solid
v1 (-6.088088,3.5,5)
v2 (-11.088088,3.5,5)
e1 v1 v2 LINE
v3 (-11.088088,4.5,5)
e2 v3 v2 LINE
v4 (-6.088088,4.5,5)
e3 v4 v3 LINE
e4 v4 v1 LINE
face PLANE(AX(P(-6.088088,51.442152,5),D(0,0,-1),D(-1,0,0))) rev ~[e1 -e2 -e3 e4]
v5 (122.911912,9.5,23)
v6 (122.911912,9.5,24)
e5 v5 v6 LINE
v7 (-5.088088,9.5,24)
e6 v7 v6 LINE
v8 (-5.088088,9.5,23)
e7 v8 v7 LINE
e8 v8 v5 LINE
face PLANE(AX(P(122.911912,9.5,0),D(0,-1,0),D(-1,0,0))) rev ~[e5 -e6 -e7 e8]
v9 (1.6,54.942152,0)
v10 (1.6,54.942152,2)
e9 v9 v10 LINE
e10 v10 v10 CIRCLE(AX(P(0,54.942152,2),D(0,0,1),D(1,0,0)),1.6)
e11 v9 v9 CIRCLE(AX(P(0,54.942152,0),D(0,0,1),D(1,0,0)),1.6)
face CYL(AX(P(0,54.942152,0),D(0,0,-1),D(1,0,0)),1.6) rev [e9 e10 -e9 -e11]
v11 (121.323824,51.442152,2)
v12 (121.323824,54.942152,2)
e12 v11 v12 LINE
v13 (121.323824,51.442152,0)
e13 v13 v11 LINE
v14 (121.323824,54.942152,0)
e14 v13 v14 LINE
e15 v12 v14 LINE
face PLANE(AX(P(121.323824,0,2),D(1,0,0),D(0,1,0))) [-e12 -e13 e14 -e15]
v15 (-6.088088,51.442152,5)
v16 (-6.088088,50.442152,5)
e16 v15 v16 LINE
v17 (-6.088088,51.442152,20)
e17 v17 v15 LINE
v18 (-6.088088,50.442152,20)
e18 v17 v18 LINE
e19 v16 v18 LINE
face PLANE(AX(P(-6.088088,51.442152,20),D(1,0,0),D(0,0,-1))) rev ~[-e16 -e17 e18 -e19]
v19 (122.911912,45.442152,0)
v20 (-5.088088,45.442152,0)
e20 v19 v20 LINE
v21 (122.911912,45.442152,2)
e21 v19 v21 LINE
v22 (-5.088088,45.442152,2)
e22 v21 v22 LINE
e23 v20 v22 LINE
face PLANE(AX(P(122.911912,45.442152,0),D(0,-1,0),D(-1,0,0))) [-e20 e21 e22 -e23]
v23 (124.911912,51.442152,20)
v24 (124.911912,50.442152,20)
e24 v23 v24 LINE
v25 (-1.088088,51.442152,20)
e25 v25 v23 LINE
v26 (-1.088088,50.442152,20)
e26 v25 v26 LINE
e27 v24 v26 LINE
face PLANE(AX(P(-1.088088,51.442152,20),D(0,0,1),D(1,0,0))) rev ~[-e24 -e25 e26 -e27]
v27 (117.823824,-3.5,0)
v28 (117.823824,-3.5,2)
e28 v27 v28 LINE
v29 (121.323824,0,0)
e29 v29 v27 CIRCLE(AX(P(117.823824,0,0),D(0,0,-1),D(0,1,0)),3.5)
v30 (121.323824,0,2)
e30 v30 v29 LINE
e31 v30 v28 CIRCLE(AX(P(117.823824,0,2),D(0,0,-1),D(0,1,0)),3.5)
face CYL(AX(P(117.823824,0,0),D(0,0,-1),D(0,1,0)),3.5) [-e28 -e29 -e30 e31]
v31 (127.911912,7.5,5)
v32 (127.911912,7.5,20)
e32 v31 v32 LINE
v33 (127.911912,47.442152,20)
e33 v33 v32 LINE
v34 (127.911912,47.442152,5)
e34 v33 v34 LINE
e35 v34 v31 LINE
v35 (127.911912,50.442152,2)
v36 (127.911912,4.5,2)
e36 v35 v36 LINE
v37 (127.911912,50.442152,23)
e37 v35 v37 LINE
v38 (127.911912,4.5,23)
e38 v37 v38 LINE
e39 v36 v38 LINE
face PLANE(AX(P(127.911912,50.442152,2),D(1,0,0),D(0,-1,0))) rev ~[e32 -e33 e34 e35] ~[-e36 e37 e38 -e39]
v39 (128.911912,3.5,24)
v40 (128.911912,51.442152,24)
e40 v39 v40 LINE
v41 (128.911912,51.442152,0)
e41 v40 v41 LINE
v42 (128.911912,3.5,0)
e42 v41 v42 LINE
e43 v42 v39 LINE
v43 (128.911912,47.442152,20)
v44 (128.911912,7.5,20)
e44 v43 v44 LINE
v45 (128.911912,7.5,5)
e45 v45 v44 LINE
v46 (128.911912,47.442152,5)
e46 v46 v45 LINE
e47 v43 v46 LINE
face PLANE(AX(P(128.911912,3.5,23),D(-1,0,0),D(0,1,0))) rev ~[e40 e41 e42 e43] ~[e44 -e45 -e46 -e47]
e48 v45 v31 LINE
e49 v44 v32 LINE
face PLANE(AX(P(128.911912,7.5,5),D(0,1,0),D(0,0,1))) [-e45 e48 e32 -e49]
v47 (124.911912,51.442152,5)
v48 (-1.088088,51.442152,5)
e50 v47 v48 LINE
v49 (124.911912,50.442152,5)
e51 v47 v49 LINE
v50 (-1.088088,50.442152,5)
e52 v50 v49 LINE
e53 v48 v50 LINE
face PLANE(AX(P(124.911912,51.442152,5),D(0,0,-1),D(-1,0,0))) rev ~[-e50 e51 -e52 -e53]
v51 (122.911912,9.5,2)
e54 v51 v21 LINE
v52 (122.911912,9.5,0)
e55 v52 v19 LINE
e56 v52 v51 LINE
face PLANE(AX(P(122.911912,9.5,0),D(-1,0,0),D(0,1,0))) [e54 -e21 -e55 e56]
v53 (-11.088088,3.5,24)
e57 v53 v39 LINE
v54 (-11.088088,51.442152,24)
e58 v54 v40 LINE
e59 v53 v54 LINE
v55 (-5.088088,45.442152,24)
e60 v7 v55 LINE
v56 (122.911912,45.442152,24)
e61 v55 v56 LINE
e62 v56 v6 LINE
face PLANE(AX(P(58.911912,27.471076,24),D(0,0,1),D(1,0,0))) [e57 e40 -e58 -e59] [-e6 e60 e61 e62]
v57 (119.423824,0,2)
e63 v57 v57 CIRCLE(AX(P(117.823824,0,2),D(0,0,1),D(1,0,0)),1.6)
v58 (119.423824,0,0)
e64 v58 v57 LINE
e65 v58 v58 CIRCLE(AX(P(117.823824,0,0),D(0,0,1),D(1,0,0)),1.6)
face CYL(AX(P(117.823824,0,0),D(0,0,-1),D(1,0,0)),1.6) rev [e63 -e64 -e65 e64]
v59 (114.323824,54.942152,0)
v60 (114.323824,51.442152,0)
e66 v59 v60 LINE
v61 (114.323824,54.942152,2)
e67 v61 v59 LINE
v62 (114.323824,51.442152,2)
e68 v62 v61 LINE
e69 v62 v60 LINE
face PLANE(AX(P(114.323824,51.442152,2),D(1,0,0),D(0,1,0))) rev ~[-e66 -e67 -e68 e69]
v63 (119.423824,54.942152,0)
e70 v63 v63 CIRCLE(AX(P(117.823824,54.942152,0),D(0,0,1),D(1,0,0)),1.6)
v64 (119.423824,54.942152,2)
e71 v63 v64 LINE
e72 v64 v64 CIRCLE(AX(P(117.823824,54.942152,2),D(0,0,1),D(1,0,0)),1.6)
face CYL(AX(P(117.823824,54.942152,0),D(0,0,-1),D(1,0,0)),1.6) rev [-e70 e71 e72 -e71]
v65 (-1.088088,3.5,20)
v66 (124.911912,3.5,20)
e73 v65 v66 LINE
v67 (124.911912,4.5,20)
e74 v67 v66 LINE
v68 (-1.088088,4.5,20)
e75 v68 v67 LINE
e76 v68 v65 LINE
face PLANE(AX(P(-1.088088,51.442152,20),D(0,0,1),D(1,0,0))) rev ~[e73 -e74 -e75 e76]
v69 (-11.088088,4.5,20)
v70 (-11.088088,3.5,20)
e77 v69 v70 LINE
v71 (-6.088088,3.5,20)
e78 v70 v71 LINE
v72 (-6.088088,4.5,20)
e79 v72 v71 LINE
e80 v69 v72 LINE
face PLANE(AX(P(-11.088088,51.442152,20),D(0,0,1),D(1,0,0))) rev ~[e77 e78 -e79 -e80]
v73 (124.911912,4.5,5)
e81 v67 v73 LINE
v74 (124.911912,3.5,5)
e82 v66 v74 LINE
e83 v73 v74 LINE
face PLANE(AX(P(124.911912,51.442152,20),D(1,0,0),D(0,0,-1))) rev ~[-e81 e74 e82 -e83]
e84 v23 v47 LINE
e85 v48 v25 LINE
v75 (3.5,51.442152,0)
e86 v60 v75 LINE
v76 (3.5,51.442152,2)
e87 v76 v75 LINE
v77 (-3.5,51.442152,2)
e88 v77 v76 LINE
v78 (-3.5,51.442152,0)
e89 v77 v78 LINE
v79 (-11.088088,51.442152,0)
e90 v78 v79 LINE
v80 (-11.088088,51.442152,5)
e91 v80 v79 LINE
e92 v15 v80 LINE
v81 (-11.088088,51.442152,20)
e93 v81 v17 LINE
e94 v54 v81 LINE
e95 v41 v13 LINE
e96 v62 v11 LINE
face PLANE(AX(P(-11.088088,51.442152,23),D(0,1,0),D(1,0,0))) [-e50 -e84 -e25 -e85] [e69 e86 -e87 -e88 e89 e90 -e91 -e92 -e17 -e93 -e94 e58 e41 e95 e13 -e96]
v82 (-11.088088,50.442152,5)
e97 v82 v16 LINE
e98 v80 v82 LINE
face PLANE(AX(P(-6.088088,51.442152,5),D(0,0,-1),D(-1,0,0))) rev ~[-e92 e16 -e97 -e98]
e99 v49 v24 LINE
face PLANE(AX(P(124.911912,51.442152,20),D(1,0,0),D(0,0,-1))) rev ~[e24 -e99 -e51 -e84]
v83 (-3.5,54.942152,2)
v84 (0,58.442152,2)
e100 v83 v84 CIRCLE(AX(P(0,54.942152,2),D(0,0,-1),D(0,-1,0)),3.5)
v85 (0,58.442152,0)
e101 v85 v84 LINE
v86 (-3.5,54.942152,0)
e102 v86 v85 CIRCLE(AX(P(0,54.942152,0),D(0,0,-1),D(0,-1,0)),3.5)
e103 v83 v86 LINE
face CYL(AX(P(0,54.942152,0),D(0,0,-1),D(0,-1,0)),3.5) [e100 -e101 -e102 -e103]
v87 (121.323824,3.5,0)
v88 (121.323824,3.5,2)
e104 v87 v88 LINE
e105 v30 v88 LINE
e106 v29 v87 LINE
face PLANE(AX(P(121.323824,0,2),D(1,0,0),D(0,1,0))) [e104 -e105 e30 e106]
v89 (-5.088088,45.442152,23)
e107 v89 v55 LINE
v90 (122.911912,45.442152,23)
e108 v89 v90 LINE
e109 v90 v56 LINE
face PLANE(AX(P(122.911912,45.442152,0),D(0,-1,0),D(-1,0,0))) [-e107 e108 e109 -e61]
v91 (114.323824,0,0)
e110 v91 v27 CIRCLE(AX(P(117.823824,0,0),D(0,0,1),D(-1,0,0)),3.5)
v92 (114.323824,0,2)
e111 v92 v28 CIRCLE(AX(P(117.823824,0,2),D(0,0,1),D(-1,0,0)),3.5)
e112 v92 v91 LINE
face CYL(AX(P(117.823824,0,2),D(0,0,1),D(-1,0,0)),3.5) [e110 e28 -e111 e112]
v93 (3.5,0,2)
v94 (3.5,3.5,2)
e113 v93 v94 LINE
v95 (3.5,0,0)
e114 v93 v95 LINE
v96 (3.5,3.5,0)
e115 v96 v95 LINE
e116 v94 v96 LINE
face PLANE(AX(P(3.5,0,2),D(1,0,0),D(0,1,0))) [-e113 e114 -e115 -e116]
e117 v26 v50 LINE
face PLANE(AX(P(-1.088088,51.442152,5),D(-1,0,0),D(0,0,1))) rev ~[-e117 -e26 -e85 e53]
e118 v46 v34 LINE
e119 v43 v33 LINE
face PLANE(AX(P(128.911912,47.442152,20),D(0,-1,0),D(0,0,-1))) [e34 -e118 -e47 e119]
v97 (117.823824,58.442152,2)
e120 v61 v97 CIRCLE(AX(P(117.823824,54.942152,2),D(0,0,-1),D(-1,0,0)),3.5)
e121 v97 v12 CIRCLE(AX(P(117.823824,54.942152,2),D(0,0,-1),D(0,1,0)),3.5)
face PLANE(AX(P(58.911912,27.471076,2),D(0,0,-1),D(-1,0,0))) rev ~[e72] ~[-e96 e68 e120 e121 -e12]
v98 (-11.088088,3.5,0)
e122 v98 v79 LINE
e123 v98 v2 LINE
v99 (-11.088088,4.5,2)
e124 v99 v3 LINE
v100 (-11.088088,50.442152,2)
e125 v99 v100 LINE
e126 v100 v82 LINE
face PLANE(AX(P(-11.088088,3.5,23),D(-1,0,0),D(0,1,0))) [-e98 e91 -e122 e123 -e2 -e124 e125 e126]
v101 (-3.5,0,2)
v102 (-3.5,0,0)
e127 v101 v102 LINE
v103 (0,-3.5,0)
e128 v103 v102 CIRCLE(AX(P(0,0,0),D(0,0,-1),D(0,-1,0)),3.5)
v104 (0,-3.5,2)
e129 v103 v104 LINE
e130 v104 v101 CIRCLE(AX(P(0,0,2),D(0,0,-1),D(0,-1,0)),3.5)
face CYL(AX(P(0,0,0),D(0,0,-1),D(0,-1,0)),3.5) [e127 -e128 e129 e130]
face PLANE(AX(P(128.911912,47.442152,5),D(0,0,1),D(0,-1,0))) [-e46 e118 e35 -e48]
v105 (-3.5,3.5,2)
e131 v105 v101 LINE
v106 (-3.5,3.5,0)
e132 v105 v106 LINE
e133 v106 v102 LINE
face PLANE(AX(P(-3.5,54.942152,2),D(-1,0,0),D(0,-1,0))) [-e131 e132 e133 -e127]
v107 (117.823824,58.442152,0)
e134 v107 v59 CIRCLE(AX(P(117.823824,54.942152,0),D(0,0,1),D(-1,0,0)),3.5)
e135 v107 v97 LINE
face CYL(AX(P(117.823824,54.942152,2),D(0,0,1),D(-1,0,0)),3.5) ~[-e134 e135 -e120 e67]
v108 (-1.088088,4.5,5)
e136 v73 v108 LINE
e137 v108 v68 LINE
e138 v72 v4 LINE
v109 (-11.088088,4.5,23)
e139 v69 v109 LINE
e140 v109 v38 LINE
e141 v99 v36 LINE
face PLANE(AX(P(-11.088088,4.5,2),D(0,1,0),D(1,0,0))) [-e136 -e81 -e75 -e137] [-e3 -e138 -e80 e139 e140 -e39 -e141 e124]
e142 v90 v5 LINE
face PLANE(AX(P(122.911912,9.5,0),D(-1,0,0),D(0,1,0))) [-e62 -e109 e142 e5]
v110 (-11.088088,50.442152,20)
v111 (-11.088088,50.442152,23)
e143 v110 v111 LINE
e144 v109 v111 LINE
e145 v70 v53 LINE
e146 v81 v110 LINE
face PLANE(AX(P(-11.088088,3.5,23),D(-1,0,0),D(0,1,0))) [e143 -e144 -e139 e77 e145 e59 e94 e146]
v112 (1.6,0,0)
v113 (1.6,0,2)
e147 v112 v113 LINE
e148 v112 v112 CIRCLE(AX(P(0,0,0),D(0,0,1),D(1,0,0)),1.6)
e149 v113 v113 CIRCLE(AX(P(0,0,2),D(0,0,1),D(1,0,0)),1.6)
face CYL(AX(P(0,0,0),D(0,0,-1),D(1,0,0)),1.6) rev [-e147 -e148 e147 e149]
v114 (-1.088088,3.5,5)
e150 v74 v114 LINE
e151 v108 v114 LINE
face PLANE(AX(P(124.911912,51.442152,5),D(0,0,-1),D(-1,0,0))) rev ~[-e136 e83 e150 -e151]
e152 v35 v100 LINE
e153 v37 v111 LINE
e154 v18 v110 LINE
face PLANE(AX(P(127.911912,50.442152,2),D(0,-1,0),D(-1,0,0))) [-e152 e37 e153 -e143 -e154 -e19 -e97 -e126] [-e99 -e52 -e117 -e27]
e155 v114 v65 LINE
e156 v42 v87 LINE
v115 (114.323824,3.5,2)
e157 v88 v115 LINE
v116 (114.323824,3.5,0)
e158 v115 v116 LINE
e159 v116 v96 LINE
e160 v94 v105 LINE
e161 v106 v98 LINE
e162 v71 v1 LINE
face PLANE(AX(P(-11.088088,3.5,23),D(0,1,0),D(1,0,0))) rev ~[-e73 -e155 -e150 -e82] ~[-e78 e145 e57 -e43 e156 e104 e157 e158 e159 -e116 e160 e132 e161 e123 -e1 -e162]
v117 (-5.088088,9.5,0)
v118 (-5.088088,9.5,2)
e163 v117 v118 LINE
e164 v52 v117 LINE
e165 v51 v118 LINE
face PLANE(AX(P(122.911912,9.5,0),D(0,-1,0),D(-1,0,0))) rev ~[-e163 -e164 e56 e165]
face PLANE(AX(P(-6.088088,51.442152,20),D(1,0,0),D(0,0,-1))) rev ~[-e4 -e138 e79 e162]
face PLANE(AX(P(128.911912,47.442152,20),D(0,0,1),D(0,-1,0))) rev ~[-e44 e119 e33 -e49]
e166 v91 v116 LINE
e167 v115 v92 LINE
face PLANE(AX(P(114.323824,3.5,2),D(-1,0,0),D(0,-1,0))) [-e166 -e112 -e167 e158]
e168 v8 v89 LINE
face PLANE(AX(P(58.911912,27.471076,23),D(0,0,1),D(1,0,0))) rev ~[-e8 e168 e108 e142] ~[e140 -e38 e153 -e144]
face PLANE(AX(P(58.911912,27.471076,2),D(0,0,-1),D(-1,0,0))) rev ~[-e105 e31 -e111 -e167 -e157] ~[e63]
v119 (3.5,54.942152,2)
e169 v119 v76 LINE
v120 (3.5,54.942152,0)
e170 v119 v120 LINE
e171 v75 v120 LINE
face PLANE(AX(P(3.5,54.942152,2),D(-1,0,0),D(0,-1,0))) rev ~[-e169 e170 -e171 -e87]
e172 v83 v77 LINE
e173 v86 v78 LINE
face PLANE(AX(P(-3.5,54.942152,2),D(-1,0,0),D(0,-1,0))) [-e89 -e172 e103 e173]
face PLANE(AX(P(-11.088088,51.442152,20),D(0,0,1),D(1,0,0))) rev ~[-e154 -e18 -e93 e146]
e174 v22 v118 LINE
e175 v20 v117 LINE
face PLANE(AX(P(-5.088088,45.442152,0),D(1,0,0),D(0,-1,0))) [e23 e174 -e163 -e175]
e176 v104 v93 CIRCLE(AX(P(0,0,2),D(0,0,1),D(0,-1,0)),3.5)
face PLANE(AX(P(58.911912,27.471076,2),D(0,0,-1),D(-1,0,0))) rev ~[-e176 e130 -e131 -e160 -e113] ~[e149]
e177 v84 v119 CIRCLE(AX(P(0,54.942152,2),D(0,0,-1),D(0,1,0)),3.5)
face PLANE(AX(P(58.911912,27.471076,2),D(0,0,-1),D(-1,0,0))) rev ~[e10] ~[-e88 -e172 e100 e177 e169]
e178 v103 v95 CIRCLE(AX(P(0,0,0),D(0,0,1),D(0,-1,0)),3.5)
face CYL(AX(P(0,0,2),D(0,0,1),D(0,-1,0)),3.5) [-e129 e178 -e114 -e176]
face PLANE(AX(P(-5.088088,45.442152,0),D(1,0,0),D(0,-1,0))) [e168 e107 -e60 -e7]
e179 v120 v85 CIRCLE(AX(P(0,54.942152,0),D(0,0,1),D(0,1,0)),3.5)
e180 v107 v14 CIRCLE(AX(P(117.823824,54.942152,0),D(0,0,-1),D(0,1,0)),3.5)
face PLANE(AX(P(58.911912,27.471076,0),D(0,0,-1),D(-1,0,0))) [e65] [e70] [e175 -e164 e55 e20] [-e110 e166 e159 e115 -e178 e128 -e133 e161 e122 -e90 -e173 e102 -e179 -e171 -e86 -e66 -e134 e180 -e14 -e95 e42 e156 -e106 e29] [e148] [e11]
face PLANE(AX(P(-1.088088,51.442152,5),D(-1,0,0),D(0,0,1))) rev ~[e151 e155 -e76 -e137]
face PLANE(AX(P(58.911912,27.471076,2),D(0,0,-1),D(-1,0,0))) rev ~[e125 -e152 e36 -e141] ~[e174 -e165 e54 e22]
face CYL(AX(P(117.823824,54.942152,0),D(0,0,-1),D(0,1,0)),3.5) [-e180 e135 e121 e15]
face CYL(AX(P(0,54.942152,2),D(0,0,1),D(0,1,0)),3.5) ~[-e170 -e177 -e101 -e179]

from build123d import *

# Parameters (mm, degrees)
SKETCH1_R           = 1.6
SKETCH1_R_2         = 2.1
BOSS_EXTRUDE3_DEPTH = 2
BOSS_EXTRUDE4_DEPTH = 2
SKETCH4_W           = 66
SKETCH4_H           = 16.340111315
SKETCH4_H_2         = 24.741581589
CUT_EXTRUDE3_DEPTH  = 14.5
FILLET1_R           = 4
SKETCH5_W           = 26
SKETCH5_H           = 27
SKETCH5_R           = 6
BOSS_EXTRUDE5_DEPTH = 2
SKETCH6_W           = 5
SKETCH6_H           = 27
CUT_EXTRUDE4_DEPTH  = 14.5
SKETCH7_R           = 1.6
SKETCH7_W           = 110.82382425
SKETCH7_H           = 47.94215156
BOSS_EXTRUDE6_DEPTH = 2
SKETCH8_W           = 110.82382425
SKETCH8_H           = 47.94215156
CUT_EXTRUDE5_DEPTH  = 10
BOSS_EXTRUDE7_DEPTH = 2
BOSS_EXTRUDE8_DEPTH = 21
SKETCH11_W          = 140
SKETCH11_H          = 47.94215156
BOSS_EXTRUDE9_DEPTH = 1
CUT_EXTRUDE7_DEPTH  = 13
CUT_EXTRUDE8_DEPTH  = 13
CUT_EXTRUDE9_DEPTH  = 66
CUT_EXTRUDE11_DEPTH = 66
CUT_EXTRUDE12_DEPTH = 66


with BuildPart() as part:
    # Sketch1 → Boss-Extrude3 (new body)
    with BuildSketch(Plane.XY):
        with BuildLine():
            Line((0, 3.5), (37.911912125, 3.5))
            Line((37.911912125, 3.5), (37.911912125, 13.97107578))
            Line((37.911912125, 13.97107578), (37.911912125, 40.97107578))
            Line((37.911912125, 40.97107578), (37.911912125, 51.44215156))
            Line((37.911912125, 51.44215156), (0, 51.44215156))
            ThreePointArc((0, 51.44215156), (-3.5, 54.94215156), (0, 58.44215156))
            Line((0, 58.44215156), (45.911912125, 58.44215156))
            Line((45.911912125, 58.44215156), (45.911912125, 51.44215156))
            Line((45.911912125, 51.44215156), (45.911912125, 48.97107578))
            Line((45.911912125, 48.97107578), (50.911912125, 48.97107578))
            Line((50.911912125, 48.97107578), (66.911912125, 48.97107578))
            Line((66.911912125, 48.97107578), (71.911912125, 48.97107578))
            Line((71.911912125, 48.97107578), (71.911912125, 51.44215156))
            Line((71.911912125, 51.44215156), (71.911912125, 58.44215156))
            Line((71.911912125, 58.44215156), (117.82382425, 58.44215156))
            ThreePointArc((117.82382425, 58.44215156), (121.32382425, 54.94215156), (117.82382425, 51.44215156))
            Line((117.82382425, 51.44215156), (79.911912125, 51.44215156))
            Line((79.911912125, 51.44215156), (79.911912125, 40.97107578))
            Line((79.911912125, 40.97107578), (79.911912125, 13.97107578))
            Line((79.911912125, 13.97107578), (79.911912125, 3.5))
            Line((79.911912125, 3.5), (117.82382425, 3.5))
            ThreePointArc((117.82382425, 3.5), (121.32382425, 0), (117.82382425, -3.5))
            Line((117.82382425, -3.5), (71.911912125, -3.5))
            Line((71.911912125, -3.5), (71.911912125, 3.5))
            Line((71.911912125, 3.5), (71.911912125, 5.97107578))
            Line((71.911912125, 5.97107578), (66.911912125, 5.97107578))
            Line((66.911912125, 5.97107578), (50.911912125, 5.97107578))
            Line((50.911912125, 5.97107578), (45.911912125, 5.97107578))
            Line((45.911912125, 5.97107578), (45.911912125, 3.5))
            Line((45.911912125, 3.5), (45.911912125, -3.5))
            Line((45.911912125, -3.5), (0, -3.5))
            ThreePointArc((0, -3.5), (-3.5, 0), (0, 3.5))
        make_face()
        with Locations((0, 54.94215156)):
            Circle(SKETCH1_R, mode=Mode.SUBTRACT)
        with Locations((117.82382425, 54.94215156)):
            Circle(SKETCH1_R, mode=Mode.SUBTRACT)
        with Locations((117.82382425, 0)):
            Circle(SKETCH1_R, mode=Mode.SUBTRACT)
        Circle(SKETCH1_R, mode=Mode.SUBTRACT)
        with Locations((66.911912125, 44.97107578)):
            Circle(SKETCH1_R_2, mode=Mode.SUBTRACT)
        with Locations((66.911912125, 9.97107578)):
            Circle(SKETCH1_R_2, mode=Mode.SUBTRACT)
        with Locations((50.911912125, 9.97107578)):
            Circle(SKETCH1_R_2, mode=Mode.SUBTRACT)
        with Locations((50.911912125, 44.97107578)):
            Circle(SKETCH1_R_2, mode=Mode.SUBTRACT)
        Polygon((66.911912125, 40.97107578), (50.911912125, 40.97107578), (45.911912125, 40.97107578), (45.911912125, 27.47107578), (45.911912125, 13.97107578), (50.911912125, 13.97107578), (66.911912125, 13.97107578), (71.911912125, 13.97107578), (71.911912125, 27.47107578), (71.911912125, 40.97107578), align=None, mode=Mode.SUBTRACT)
    extrude(amount=BOSS_EXTRUDE3_DEPTH)

    # Sketch3 → Boss-Extrude4 (add)
    with BuildSketch(Plane.XY.offset(2)):
        Polygon((71.911912125, 13.97107578), (99.911912125, 13.97107578), (99.911912125, 3.5), (91.911912125, 3.5), (91.911912125, 5.97107578), (71.911912125, 5.97107578), align=None)
        Polygon((91.911912125, 51.44215156), (99.911912125, 51.44215156), (99.911912125, 40.97107578), (71.911912125, 40.97107578), (71.911912125, 48.97107578), (91.911912125, 48.97107578), align=None)
        Polygon((45.911912125, 40.97107578), (17.911912125, 40.97107578), (17.911912125, 51.44215156), (25.911912125, 51.44215156), (25.911912125, 48.97107578), (45.911912125, 48.97107578), align=None)
        Polygon((25.911912125, 3.5), (17.911912125, 3.5), (17.911912125, 13.97107578), (45.911912125, 13.97107578), (45.911912125, 5.97107578), (25.911912125, 5.97107578), align=None)
    extrude(amount=-BOSS_EXTRUDE4_DEPTH)

    # Sketch4 → Cut-Extrude3 (cut)
    with BuildSketch(Plane.XY.offset(2)):
        with Locations((58.911912125, 57.141131438)):
            Rectangle(SKETCH4_W, SKETCH4_H)
        with Locations((58.911912125, -6.399715014)):
            Rectangle(SKETCH4_W, SKETCH4_H_2)
    extrude(amount=-CUT_EXTRUDE3_DEPTH, mode=Mode.SUBTRACT)

    # Fillet1
    fillet1_edges = [part.edges().sort_by_distance(p)[0] for p in [
        (99.911912125, 13.97107578, 1),
        (99.911912125, 3.5, 1),
        (91.911912125, 5.97107578, 1),
        (91.911912125, 48.97107578, 1),
        (99.911912125, 51.44215156, 1),
        (99.911912125, 40.97107578, 1),
        (17.911912125, 40.97107578, 1),
        (17.911912125, 51.44215156, 1),
        (25.911912125, 48.97107578, 1),
        (25.911912125, 5.97107578, 1),
        (17.911912125, 3.5, 1),
        (17.911912125, 13.97107578, 1),
        (91.911912125, 58.44215156, 1),
        (25.911912125, 58.44215156, 1),
        (91.911912125, -3.5, 1),
        (25.911912125, -3.5, 1),
    ]]
    fillet(fillet1_edges, radius=FILLET1_R)

    # Sketch5 → Boss-Extrude5 (add)
    with BuildSketch(Plane.XY.offset(2)):
        with Locations((58.911912125, 27.47107578)):
            Rectangle(SKETCH5_W, SKETCH5_H)
        with Locations((58.911912125, 27.47107578)):
            Circle(SKETCH5_R, mode=Mode.SUBTRACT)
    extrude(amount=-BOSS_EXTRUDE5_DEPTH)

    # Sketch6 → Cut-Extrude4 (cut)
    with BuildSketch(Plane.XY.offset(2)):
        with Locations((40.411912125, 27.47107578)):
            Rectangle(SKETCH6_W, SKETCH6_H)
        with Locations((77.411912125, 27.47107578)):
            Rectangle(SKETCH6_W, SKETCH6_H)
    extrude(amount=-CUT_EXTRUDE4_DEPTH, mode=Mode.SUBTRACT)

    # Sketch7 → Boss-Extrude6 (add)
    with BuildSketch(Plane.XY.offset(2)):
        with BuildLine():
            Line((-3.5, 54.94215156), (-3.5, 0))
            ThreePointArc((-3.5, 0), (-2.474873734, -2.474873734), (0, -3.5))
            Line((0, -3.5), (117.82382425, -3.5))
            ThreePointArc((117.82382425, -3.5), (120.298697984, -2.474873734), (121.32382425, 0))
            Line((121.32382425, 0), (121.32382425, 54.94215156))
            ThreePointArc((121.32382425, 54.94215156), (120.298697984, 57.417025294), (117.82382425, 58.44215156))
            Line((117.82382425, 58.44215156), (0, 58.44215156))
            ThreePointArc((0, 58.44215156), (-2.474873734, 57.417025294), (-3.5, 54.94215156))
        make_face()
        Circle(SKETCH7_R, mode=Mode.SUBTRACT)
        with Locations((117.82382425, 0)):
            Circle(SKETCH7_R, mode=Mode.SUBTRACT)
        with Locations((117.82382425, 54.94215156)):
            Circle(SKETCH7_R, mode=Mode.SUBTRACT)
        with Locations((0, 54.94215156)):
            Circle(SKETCH7_R, mode=Mode.SUBTRACT)
        with Locations((58.911912125, 27.47107578)):
            Rectangle(SKETCH7_W, SKETCH7_H, mode=Mode.SUBTRACT)
    extrude(amount=-BOSS_EXTRUDE6_DEPTH)

    # Sketch8 → Cut-Extrude5 (cut)
    with BuildSketch(Plane.XY.offset(2)):
        with Locations((58.911912125, 27.47107578)):
            Rectangle(SKETCH8_W, SKETCH8_H)
    extrude(amount=-CUT_EXTRUDE5_DEPTH, mode=Mode.SUBTRACT)

    # Sketch9 → Boss-Extrude7 (add)
    with BuildSketch(Plane.XY.offset(2)):
        Polygon((58.911912125, 51.44215156), (128.911912125, 51.44215156), (128.911912125, 3.5), (-11.088087875, 3.5), (-11.088087875, 51.44215156), align=None)
    extrude(amount=-BOSS_EXTRUDE7_DEPTH)

    # Sketch10 → Boss-Extrude8 (add)
    with BuildSketch(Plane.XY.offset(2)):
        Polygon((-11.088087875, 51.44215156), (128.911912125, 51.44215156), (128.911912125, 3.5), (-11.088087875, 3.5), (-11.088087875, 4.5), (127.911912125, 4.5), (127.911912125, 27.47107578), (127.911912125, 50.44215156), (-11.088087875, 50.44215156), align=None)
    extrude(amount=BOSS_EXTRUDE8_DEPTH)

    # Sketch11 → Boss-Extrude9 (add)
    with BuildSketch(Plane.XY.offset(23)):
        with Locations((58.911912125, 27.47107578)):
            Rectangle(SKETCH11_W, SKETCH11_H)
    extrude(amount=BOSS_EXTRUDE9_DEPTH)

    # Sketch12 → Cut-Extrude7 (cut)
    with BuildSketch(Plane.XY.offset(2)):
        with BuildLine():
            Line((3.5, 0), (3.5, 3.5))
            Line((3.5, 3.5), (114.32382425, 3.5))
            Line((114.32382425, 3.5), (114.32382425, 0))
            ThreePointArc((114.32382425, 0), (115.348950516, -2.474873734), (117.82382425, -3.5))
            Line((117.82382425, -3.5), (0, -3.5))
            ThreePointArc((0, -3.5), (2.474873734, -2.474873734), (3.5, 0))
        make_face()
        with BuildLine():
            Line((3.5, 54.94215156), (3.5, 51.44215156))
            Line((3.5, 51.44215156), (114.32382425, 51.44215156))
            Line((114.32382425, 51.44215156), (114.32382425, 54.94215156))
            ThreePointArc((114.32382425, 54.94215156), (115.348950516, 57.417025294), (117.82382425, 58.44215156))
            Line((117.82382425, 58.44215156), (0, 58.44215156))
            ThreePointArc((0, 58.44215156), (2.474873734, 57.417025294), (3.5, 54.94215156))
        make_face()
    extrude(amount=-CUT_EXTRUDE7_DEPTH, mode=Mode.SUBTRACT)

    # Sketch13 → Cut-Extrude8 (cut)
    with BuildSketch(Plane(origin=(128.911912125, 0, 0), x_dir=(0, 0, -1), z_dir=(1, 0, 0))):
        Polygon((-20, 27.47107578), (-20, 47.44215156), (-5, 47.44215156), (-5, 7.5), (-20, 7.5), align=None)
    extrude(amount=-CUT_EXTRUDE8_DEPTH, mode=Mode.SUBTRACT)

    # Sketch14 → Cut-Extrude9 (cut)
    with BuildSketch(Plane(origin=(0, 0, 0), x_dir=(-1, 0, 0), z_dir=(0, 0, -1))):
        Polygon((-58.911912125, 9.5), (-122.911912125, 9.5), (-122.911912125, 45.44215156), (5.088087875, 45.44215156), (5.088087875, 9.5), align=None)
    extrude(amount=-CUT_EXTRUDE9_DEPTH, mode=Mode.SUBTRACT)

    # Sketch15 → Cut-Extrude11 (cut)
    with BuildSketch(Plane(origin=(0, 51.44215156, 0), x_dir=(1, 0, 0), z_dir=(0, 1, 0))):
        Polygon((-1.088087875, -5), (-1.088087875, -12), (-1.088087875, -20), (124.911912125, -20), (124.911912125, -5), (58.911912125, -5), align=None)
    extrude(amount=-CUT_EXTRUDE11_DEPTH, mode=Mode.SUBTRACT)

    # Sketch16 → Cut-Extrude12 (cut)
    with BuildSketch(Plane(origin=(0, 51.44215156, 0), x_dir=(1, 0, 0), z_dir=(0, 1, 0))):
        Polygon((-6.088087875, -12), (-6.088087875, -5), (-11.088087875, -5), (-11.088087875, -20), (-6.088087875, -20), align=None)
    extrude(amount=-CUT_EXTRUDE12_DEPTH, mode=Mode.SUBTRACT)


solid = part.part
